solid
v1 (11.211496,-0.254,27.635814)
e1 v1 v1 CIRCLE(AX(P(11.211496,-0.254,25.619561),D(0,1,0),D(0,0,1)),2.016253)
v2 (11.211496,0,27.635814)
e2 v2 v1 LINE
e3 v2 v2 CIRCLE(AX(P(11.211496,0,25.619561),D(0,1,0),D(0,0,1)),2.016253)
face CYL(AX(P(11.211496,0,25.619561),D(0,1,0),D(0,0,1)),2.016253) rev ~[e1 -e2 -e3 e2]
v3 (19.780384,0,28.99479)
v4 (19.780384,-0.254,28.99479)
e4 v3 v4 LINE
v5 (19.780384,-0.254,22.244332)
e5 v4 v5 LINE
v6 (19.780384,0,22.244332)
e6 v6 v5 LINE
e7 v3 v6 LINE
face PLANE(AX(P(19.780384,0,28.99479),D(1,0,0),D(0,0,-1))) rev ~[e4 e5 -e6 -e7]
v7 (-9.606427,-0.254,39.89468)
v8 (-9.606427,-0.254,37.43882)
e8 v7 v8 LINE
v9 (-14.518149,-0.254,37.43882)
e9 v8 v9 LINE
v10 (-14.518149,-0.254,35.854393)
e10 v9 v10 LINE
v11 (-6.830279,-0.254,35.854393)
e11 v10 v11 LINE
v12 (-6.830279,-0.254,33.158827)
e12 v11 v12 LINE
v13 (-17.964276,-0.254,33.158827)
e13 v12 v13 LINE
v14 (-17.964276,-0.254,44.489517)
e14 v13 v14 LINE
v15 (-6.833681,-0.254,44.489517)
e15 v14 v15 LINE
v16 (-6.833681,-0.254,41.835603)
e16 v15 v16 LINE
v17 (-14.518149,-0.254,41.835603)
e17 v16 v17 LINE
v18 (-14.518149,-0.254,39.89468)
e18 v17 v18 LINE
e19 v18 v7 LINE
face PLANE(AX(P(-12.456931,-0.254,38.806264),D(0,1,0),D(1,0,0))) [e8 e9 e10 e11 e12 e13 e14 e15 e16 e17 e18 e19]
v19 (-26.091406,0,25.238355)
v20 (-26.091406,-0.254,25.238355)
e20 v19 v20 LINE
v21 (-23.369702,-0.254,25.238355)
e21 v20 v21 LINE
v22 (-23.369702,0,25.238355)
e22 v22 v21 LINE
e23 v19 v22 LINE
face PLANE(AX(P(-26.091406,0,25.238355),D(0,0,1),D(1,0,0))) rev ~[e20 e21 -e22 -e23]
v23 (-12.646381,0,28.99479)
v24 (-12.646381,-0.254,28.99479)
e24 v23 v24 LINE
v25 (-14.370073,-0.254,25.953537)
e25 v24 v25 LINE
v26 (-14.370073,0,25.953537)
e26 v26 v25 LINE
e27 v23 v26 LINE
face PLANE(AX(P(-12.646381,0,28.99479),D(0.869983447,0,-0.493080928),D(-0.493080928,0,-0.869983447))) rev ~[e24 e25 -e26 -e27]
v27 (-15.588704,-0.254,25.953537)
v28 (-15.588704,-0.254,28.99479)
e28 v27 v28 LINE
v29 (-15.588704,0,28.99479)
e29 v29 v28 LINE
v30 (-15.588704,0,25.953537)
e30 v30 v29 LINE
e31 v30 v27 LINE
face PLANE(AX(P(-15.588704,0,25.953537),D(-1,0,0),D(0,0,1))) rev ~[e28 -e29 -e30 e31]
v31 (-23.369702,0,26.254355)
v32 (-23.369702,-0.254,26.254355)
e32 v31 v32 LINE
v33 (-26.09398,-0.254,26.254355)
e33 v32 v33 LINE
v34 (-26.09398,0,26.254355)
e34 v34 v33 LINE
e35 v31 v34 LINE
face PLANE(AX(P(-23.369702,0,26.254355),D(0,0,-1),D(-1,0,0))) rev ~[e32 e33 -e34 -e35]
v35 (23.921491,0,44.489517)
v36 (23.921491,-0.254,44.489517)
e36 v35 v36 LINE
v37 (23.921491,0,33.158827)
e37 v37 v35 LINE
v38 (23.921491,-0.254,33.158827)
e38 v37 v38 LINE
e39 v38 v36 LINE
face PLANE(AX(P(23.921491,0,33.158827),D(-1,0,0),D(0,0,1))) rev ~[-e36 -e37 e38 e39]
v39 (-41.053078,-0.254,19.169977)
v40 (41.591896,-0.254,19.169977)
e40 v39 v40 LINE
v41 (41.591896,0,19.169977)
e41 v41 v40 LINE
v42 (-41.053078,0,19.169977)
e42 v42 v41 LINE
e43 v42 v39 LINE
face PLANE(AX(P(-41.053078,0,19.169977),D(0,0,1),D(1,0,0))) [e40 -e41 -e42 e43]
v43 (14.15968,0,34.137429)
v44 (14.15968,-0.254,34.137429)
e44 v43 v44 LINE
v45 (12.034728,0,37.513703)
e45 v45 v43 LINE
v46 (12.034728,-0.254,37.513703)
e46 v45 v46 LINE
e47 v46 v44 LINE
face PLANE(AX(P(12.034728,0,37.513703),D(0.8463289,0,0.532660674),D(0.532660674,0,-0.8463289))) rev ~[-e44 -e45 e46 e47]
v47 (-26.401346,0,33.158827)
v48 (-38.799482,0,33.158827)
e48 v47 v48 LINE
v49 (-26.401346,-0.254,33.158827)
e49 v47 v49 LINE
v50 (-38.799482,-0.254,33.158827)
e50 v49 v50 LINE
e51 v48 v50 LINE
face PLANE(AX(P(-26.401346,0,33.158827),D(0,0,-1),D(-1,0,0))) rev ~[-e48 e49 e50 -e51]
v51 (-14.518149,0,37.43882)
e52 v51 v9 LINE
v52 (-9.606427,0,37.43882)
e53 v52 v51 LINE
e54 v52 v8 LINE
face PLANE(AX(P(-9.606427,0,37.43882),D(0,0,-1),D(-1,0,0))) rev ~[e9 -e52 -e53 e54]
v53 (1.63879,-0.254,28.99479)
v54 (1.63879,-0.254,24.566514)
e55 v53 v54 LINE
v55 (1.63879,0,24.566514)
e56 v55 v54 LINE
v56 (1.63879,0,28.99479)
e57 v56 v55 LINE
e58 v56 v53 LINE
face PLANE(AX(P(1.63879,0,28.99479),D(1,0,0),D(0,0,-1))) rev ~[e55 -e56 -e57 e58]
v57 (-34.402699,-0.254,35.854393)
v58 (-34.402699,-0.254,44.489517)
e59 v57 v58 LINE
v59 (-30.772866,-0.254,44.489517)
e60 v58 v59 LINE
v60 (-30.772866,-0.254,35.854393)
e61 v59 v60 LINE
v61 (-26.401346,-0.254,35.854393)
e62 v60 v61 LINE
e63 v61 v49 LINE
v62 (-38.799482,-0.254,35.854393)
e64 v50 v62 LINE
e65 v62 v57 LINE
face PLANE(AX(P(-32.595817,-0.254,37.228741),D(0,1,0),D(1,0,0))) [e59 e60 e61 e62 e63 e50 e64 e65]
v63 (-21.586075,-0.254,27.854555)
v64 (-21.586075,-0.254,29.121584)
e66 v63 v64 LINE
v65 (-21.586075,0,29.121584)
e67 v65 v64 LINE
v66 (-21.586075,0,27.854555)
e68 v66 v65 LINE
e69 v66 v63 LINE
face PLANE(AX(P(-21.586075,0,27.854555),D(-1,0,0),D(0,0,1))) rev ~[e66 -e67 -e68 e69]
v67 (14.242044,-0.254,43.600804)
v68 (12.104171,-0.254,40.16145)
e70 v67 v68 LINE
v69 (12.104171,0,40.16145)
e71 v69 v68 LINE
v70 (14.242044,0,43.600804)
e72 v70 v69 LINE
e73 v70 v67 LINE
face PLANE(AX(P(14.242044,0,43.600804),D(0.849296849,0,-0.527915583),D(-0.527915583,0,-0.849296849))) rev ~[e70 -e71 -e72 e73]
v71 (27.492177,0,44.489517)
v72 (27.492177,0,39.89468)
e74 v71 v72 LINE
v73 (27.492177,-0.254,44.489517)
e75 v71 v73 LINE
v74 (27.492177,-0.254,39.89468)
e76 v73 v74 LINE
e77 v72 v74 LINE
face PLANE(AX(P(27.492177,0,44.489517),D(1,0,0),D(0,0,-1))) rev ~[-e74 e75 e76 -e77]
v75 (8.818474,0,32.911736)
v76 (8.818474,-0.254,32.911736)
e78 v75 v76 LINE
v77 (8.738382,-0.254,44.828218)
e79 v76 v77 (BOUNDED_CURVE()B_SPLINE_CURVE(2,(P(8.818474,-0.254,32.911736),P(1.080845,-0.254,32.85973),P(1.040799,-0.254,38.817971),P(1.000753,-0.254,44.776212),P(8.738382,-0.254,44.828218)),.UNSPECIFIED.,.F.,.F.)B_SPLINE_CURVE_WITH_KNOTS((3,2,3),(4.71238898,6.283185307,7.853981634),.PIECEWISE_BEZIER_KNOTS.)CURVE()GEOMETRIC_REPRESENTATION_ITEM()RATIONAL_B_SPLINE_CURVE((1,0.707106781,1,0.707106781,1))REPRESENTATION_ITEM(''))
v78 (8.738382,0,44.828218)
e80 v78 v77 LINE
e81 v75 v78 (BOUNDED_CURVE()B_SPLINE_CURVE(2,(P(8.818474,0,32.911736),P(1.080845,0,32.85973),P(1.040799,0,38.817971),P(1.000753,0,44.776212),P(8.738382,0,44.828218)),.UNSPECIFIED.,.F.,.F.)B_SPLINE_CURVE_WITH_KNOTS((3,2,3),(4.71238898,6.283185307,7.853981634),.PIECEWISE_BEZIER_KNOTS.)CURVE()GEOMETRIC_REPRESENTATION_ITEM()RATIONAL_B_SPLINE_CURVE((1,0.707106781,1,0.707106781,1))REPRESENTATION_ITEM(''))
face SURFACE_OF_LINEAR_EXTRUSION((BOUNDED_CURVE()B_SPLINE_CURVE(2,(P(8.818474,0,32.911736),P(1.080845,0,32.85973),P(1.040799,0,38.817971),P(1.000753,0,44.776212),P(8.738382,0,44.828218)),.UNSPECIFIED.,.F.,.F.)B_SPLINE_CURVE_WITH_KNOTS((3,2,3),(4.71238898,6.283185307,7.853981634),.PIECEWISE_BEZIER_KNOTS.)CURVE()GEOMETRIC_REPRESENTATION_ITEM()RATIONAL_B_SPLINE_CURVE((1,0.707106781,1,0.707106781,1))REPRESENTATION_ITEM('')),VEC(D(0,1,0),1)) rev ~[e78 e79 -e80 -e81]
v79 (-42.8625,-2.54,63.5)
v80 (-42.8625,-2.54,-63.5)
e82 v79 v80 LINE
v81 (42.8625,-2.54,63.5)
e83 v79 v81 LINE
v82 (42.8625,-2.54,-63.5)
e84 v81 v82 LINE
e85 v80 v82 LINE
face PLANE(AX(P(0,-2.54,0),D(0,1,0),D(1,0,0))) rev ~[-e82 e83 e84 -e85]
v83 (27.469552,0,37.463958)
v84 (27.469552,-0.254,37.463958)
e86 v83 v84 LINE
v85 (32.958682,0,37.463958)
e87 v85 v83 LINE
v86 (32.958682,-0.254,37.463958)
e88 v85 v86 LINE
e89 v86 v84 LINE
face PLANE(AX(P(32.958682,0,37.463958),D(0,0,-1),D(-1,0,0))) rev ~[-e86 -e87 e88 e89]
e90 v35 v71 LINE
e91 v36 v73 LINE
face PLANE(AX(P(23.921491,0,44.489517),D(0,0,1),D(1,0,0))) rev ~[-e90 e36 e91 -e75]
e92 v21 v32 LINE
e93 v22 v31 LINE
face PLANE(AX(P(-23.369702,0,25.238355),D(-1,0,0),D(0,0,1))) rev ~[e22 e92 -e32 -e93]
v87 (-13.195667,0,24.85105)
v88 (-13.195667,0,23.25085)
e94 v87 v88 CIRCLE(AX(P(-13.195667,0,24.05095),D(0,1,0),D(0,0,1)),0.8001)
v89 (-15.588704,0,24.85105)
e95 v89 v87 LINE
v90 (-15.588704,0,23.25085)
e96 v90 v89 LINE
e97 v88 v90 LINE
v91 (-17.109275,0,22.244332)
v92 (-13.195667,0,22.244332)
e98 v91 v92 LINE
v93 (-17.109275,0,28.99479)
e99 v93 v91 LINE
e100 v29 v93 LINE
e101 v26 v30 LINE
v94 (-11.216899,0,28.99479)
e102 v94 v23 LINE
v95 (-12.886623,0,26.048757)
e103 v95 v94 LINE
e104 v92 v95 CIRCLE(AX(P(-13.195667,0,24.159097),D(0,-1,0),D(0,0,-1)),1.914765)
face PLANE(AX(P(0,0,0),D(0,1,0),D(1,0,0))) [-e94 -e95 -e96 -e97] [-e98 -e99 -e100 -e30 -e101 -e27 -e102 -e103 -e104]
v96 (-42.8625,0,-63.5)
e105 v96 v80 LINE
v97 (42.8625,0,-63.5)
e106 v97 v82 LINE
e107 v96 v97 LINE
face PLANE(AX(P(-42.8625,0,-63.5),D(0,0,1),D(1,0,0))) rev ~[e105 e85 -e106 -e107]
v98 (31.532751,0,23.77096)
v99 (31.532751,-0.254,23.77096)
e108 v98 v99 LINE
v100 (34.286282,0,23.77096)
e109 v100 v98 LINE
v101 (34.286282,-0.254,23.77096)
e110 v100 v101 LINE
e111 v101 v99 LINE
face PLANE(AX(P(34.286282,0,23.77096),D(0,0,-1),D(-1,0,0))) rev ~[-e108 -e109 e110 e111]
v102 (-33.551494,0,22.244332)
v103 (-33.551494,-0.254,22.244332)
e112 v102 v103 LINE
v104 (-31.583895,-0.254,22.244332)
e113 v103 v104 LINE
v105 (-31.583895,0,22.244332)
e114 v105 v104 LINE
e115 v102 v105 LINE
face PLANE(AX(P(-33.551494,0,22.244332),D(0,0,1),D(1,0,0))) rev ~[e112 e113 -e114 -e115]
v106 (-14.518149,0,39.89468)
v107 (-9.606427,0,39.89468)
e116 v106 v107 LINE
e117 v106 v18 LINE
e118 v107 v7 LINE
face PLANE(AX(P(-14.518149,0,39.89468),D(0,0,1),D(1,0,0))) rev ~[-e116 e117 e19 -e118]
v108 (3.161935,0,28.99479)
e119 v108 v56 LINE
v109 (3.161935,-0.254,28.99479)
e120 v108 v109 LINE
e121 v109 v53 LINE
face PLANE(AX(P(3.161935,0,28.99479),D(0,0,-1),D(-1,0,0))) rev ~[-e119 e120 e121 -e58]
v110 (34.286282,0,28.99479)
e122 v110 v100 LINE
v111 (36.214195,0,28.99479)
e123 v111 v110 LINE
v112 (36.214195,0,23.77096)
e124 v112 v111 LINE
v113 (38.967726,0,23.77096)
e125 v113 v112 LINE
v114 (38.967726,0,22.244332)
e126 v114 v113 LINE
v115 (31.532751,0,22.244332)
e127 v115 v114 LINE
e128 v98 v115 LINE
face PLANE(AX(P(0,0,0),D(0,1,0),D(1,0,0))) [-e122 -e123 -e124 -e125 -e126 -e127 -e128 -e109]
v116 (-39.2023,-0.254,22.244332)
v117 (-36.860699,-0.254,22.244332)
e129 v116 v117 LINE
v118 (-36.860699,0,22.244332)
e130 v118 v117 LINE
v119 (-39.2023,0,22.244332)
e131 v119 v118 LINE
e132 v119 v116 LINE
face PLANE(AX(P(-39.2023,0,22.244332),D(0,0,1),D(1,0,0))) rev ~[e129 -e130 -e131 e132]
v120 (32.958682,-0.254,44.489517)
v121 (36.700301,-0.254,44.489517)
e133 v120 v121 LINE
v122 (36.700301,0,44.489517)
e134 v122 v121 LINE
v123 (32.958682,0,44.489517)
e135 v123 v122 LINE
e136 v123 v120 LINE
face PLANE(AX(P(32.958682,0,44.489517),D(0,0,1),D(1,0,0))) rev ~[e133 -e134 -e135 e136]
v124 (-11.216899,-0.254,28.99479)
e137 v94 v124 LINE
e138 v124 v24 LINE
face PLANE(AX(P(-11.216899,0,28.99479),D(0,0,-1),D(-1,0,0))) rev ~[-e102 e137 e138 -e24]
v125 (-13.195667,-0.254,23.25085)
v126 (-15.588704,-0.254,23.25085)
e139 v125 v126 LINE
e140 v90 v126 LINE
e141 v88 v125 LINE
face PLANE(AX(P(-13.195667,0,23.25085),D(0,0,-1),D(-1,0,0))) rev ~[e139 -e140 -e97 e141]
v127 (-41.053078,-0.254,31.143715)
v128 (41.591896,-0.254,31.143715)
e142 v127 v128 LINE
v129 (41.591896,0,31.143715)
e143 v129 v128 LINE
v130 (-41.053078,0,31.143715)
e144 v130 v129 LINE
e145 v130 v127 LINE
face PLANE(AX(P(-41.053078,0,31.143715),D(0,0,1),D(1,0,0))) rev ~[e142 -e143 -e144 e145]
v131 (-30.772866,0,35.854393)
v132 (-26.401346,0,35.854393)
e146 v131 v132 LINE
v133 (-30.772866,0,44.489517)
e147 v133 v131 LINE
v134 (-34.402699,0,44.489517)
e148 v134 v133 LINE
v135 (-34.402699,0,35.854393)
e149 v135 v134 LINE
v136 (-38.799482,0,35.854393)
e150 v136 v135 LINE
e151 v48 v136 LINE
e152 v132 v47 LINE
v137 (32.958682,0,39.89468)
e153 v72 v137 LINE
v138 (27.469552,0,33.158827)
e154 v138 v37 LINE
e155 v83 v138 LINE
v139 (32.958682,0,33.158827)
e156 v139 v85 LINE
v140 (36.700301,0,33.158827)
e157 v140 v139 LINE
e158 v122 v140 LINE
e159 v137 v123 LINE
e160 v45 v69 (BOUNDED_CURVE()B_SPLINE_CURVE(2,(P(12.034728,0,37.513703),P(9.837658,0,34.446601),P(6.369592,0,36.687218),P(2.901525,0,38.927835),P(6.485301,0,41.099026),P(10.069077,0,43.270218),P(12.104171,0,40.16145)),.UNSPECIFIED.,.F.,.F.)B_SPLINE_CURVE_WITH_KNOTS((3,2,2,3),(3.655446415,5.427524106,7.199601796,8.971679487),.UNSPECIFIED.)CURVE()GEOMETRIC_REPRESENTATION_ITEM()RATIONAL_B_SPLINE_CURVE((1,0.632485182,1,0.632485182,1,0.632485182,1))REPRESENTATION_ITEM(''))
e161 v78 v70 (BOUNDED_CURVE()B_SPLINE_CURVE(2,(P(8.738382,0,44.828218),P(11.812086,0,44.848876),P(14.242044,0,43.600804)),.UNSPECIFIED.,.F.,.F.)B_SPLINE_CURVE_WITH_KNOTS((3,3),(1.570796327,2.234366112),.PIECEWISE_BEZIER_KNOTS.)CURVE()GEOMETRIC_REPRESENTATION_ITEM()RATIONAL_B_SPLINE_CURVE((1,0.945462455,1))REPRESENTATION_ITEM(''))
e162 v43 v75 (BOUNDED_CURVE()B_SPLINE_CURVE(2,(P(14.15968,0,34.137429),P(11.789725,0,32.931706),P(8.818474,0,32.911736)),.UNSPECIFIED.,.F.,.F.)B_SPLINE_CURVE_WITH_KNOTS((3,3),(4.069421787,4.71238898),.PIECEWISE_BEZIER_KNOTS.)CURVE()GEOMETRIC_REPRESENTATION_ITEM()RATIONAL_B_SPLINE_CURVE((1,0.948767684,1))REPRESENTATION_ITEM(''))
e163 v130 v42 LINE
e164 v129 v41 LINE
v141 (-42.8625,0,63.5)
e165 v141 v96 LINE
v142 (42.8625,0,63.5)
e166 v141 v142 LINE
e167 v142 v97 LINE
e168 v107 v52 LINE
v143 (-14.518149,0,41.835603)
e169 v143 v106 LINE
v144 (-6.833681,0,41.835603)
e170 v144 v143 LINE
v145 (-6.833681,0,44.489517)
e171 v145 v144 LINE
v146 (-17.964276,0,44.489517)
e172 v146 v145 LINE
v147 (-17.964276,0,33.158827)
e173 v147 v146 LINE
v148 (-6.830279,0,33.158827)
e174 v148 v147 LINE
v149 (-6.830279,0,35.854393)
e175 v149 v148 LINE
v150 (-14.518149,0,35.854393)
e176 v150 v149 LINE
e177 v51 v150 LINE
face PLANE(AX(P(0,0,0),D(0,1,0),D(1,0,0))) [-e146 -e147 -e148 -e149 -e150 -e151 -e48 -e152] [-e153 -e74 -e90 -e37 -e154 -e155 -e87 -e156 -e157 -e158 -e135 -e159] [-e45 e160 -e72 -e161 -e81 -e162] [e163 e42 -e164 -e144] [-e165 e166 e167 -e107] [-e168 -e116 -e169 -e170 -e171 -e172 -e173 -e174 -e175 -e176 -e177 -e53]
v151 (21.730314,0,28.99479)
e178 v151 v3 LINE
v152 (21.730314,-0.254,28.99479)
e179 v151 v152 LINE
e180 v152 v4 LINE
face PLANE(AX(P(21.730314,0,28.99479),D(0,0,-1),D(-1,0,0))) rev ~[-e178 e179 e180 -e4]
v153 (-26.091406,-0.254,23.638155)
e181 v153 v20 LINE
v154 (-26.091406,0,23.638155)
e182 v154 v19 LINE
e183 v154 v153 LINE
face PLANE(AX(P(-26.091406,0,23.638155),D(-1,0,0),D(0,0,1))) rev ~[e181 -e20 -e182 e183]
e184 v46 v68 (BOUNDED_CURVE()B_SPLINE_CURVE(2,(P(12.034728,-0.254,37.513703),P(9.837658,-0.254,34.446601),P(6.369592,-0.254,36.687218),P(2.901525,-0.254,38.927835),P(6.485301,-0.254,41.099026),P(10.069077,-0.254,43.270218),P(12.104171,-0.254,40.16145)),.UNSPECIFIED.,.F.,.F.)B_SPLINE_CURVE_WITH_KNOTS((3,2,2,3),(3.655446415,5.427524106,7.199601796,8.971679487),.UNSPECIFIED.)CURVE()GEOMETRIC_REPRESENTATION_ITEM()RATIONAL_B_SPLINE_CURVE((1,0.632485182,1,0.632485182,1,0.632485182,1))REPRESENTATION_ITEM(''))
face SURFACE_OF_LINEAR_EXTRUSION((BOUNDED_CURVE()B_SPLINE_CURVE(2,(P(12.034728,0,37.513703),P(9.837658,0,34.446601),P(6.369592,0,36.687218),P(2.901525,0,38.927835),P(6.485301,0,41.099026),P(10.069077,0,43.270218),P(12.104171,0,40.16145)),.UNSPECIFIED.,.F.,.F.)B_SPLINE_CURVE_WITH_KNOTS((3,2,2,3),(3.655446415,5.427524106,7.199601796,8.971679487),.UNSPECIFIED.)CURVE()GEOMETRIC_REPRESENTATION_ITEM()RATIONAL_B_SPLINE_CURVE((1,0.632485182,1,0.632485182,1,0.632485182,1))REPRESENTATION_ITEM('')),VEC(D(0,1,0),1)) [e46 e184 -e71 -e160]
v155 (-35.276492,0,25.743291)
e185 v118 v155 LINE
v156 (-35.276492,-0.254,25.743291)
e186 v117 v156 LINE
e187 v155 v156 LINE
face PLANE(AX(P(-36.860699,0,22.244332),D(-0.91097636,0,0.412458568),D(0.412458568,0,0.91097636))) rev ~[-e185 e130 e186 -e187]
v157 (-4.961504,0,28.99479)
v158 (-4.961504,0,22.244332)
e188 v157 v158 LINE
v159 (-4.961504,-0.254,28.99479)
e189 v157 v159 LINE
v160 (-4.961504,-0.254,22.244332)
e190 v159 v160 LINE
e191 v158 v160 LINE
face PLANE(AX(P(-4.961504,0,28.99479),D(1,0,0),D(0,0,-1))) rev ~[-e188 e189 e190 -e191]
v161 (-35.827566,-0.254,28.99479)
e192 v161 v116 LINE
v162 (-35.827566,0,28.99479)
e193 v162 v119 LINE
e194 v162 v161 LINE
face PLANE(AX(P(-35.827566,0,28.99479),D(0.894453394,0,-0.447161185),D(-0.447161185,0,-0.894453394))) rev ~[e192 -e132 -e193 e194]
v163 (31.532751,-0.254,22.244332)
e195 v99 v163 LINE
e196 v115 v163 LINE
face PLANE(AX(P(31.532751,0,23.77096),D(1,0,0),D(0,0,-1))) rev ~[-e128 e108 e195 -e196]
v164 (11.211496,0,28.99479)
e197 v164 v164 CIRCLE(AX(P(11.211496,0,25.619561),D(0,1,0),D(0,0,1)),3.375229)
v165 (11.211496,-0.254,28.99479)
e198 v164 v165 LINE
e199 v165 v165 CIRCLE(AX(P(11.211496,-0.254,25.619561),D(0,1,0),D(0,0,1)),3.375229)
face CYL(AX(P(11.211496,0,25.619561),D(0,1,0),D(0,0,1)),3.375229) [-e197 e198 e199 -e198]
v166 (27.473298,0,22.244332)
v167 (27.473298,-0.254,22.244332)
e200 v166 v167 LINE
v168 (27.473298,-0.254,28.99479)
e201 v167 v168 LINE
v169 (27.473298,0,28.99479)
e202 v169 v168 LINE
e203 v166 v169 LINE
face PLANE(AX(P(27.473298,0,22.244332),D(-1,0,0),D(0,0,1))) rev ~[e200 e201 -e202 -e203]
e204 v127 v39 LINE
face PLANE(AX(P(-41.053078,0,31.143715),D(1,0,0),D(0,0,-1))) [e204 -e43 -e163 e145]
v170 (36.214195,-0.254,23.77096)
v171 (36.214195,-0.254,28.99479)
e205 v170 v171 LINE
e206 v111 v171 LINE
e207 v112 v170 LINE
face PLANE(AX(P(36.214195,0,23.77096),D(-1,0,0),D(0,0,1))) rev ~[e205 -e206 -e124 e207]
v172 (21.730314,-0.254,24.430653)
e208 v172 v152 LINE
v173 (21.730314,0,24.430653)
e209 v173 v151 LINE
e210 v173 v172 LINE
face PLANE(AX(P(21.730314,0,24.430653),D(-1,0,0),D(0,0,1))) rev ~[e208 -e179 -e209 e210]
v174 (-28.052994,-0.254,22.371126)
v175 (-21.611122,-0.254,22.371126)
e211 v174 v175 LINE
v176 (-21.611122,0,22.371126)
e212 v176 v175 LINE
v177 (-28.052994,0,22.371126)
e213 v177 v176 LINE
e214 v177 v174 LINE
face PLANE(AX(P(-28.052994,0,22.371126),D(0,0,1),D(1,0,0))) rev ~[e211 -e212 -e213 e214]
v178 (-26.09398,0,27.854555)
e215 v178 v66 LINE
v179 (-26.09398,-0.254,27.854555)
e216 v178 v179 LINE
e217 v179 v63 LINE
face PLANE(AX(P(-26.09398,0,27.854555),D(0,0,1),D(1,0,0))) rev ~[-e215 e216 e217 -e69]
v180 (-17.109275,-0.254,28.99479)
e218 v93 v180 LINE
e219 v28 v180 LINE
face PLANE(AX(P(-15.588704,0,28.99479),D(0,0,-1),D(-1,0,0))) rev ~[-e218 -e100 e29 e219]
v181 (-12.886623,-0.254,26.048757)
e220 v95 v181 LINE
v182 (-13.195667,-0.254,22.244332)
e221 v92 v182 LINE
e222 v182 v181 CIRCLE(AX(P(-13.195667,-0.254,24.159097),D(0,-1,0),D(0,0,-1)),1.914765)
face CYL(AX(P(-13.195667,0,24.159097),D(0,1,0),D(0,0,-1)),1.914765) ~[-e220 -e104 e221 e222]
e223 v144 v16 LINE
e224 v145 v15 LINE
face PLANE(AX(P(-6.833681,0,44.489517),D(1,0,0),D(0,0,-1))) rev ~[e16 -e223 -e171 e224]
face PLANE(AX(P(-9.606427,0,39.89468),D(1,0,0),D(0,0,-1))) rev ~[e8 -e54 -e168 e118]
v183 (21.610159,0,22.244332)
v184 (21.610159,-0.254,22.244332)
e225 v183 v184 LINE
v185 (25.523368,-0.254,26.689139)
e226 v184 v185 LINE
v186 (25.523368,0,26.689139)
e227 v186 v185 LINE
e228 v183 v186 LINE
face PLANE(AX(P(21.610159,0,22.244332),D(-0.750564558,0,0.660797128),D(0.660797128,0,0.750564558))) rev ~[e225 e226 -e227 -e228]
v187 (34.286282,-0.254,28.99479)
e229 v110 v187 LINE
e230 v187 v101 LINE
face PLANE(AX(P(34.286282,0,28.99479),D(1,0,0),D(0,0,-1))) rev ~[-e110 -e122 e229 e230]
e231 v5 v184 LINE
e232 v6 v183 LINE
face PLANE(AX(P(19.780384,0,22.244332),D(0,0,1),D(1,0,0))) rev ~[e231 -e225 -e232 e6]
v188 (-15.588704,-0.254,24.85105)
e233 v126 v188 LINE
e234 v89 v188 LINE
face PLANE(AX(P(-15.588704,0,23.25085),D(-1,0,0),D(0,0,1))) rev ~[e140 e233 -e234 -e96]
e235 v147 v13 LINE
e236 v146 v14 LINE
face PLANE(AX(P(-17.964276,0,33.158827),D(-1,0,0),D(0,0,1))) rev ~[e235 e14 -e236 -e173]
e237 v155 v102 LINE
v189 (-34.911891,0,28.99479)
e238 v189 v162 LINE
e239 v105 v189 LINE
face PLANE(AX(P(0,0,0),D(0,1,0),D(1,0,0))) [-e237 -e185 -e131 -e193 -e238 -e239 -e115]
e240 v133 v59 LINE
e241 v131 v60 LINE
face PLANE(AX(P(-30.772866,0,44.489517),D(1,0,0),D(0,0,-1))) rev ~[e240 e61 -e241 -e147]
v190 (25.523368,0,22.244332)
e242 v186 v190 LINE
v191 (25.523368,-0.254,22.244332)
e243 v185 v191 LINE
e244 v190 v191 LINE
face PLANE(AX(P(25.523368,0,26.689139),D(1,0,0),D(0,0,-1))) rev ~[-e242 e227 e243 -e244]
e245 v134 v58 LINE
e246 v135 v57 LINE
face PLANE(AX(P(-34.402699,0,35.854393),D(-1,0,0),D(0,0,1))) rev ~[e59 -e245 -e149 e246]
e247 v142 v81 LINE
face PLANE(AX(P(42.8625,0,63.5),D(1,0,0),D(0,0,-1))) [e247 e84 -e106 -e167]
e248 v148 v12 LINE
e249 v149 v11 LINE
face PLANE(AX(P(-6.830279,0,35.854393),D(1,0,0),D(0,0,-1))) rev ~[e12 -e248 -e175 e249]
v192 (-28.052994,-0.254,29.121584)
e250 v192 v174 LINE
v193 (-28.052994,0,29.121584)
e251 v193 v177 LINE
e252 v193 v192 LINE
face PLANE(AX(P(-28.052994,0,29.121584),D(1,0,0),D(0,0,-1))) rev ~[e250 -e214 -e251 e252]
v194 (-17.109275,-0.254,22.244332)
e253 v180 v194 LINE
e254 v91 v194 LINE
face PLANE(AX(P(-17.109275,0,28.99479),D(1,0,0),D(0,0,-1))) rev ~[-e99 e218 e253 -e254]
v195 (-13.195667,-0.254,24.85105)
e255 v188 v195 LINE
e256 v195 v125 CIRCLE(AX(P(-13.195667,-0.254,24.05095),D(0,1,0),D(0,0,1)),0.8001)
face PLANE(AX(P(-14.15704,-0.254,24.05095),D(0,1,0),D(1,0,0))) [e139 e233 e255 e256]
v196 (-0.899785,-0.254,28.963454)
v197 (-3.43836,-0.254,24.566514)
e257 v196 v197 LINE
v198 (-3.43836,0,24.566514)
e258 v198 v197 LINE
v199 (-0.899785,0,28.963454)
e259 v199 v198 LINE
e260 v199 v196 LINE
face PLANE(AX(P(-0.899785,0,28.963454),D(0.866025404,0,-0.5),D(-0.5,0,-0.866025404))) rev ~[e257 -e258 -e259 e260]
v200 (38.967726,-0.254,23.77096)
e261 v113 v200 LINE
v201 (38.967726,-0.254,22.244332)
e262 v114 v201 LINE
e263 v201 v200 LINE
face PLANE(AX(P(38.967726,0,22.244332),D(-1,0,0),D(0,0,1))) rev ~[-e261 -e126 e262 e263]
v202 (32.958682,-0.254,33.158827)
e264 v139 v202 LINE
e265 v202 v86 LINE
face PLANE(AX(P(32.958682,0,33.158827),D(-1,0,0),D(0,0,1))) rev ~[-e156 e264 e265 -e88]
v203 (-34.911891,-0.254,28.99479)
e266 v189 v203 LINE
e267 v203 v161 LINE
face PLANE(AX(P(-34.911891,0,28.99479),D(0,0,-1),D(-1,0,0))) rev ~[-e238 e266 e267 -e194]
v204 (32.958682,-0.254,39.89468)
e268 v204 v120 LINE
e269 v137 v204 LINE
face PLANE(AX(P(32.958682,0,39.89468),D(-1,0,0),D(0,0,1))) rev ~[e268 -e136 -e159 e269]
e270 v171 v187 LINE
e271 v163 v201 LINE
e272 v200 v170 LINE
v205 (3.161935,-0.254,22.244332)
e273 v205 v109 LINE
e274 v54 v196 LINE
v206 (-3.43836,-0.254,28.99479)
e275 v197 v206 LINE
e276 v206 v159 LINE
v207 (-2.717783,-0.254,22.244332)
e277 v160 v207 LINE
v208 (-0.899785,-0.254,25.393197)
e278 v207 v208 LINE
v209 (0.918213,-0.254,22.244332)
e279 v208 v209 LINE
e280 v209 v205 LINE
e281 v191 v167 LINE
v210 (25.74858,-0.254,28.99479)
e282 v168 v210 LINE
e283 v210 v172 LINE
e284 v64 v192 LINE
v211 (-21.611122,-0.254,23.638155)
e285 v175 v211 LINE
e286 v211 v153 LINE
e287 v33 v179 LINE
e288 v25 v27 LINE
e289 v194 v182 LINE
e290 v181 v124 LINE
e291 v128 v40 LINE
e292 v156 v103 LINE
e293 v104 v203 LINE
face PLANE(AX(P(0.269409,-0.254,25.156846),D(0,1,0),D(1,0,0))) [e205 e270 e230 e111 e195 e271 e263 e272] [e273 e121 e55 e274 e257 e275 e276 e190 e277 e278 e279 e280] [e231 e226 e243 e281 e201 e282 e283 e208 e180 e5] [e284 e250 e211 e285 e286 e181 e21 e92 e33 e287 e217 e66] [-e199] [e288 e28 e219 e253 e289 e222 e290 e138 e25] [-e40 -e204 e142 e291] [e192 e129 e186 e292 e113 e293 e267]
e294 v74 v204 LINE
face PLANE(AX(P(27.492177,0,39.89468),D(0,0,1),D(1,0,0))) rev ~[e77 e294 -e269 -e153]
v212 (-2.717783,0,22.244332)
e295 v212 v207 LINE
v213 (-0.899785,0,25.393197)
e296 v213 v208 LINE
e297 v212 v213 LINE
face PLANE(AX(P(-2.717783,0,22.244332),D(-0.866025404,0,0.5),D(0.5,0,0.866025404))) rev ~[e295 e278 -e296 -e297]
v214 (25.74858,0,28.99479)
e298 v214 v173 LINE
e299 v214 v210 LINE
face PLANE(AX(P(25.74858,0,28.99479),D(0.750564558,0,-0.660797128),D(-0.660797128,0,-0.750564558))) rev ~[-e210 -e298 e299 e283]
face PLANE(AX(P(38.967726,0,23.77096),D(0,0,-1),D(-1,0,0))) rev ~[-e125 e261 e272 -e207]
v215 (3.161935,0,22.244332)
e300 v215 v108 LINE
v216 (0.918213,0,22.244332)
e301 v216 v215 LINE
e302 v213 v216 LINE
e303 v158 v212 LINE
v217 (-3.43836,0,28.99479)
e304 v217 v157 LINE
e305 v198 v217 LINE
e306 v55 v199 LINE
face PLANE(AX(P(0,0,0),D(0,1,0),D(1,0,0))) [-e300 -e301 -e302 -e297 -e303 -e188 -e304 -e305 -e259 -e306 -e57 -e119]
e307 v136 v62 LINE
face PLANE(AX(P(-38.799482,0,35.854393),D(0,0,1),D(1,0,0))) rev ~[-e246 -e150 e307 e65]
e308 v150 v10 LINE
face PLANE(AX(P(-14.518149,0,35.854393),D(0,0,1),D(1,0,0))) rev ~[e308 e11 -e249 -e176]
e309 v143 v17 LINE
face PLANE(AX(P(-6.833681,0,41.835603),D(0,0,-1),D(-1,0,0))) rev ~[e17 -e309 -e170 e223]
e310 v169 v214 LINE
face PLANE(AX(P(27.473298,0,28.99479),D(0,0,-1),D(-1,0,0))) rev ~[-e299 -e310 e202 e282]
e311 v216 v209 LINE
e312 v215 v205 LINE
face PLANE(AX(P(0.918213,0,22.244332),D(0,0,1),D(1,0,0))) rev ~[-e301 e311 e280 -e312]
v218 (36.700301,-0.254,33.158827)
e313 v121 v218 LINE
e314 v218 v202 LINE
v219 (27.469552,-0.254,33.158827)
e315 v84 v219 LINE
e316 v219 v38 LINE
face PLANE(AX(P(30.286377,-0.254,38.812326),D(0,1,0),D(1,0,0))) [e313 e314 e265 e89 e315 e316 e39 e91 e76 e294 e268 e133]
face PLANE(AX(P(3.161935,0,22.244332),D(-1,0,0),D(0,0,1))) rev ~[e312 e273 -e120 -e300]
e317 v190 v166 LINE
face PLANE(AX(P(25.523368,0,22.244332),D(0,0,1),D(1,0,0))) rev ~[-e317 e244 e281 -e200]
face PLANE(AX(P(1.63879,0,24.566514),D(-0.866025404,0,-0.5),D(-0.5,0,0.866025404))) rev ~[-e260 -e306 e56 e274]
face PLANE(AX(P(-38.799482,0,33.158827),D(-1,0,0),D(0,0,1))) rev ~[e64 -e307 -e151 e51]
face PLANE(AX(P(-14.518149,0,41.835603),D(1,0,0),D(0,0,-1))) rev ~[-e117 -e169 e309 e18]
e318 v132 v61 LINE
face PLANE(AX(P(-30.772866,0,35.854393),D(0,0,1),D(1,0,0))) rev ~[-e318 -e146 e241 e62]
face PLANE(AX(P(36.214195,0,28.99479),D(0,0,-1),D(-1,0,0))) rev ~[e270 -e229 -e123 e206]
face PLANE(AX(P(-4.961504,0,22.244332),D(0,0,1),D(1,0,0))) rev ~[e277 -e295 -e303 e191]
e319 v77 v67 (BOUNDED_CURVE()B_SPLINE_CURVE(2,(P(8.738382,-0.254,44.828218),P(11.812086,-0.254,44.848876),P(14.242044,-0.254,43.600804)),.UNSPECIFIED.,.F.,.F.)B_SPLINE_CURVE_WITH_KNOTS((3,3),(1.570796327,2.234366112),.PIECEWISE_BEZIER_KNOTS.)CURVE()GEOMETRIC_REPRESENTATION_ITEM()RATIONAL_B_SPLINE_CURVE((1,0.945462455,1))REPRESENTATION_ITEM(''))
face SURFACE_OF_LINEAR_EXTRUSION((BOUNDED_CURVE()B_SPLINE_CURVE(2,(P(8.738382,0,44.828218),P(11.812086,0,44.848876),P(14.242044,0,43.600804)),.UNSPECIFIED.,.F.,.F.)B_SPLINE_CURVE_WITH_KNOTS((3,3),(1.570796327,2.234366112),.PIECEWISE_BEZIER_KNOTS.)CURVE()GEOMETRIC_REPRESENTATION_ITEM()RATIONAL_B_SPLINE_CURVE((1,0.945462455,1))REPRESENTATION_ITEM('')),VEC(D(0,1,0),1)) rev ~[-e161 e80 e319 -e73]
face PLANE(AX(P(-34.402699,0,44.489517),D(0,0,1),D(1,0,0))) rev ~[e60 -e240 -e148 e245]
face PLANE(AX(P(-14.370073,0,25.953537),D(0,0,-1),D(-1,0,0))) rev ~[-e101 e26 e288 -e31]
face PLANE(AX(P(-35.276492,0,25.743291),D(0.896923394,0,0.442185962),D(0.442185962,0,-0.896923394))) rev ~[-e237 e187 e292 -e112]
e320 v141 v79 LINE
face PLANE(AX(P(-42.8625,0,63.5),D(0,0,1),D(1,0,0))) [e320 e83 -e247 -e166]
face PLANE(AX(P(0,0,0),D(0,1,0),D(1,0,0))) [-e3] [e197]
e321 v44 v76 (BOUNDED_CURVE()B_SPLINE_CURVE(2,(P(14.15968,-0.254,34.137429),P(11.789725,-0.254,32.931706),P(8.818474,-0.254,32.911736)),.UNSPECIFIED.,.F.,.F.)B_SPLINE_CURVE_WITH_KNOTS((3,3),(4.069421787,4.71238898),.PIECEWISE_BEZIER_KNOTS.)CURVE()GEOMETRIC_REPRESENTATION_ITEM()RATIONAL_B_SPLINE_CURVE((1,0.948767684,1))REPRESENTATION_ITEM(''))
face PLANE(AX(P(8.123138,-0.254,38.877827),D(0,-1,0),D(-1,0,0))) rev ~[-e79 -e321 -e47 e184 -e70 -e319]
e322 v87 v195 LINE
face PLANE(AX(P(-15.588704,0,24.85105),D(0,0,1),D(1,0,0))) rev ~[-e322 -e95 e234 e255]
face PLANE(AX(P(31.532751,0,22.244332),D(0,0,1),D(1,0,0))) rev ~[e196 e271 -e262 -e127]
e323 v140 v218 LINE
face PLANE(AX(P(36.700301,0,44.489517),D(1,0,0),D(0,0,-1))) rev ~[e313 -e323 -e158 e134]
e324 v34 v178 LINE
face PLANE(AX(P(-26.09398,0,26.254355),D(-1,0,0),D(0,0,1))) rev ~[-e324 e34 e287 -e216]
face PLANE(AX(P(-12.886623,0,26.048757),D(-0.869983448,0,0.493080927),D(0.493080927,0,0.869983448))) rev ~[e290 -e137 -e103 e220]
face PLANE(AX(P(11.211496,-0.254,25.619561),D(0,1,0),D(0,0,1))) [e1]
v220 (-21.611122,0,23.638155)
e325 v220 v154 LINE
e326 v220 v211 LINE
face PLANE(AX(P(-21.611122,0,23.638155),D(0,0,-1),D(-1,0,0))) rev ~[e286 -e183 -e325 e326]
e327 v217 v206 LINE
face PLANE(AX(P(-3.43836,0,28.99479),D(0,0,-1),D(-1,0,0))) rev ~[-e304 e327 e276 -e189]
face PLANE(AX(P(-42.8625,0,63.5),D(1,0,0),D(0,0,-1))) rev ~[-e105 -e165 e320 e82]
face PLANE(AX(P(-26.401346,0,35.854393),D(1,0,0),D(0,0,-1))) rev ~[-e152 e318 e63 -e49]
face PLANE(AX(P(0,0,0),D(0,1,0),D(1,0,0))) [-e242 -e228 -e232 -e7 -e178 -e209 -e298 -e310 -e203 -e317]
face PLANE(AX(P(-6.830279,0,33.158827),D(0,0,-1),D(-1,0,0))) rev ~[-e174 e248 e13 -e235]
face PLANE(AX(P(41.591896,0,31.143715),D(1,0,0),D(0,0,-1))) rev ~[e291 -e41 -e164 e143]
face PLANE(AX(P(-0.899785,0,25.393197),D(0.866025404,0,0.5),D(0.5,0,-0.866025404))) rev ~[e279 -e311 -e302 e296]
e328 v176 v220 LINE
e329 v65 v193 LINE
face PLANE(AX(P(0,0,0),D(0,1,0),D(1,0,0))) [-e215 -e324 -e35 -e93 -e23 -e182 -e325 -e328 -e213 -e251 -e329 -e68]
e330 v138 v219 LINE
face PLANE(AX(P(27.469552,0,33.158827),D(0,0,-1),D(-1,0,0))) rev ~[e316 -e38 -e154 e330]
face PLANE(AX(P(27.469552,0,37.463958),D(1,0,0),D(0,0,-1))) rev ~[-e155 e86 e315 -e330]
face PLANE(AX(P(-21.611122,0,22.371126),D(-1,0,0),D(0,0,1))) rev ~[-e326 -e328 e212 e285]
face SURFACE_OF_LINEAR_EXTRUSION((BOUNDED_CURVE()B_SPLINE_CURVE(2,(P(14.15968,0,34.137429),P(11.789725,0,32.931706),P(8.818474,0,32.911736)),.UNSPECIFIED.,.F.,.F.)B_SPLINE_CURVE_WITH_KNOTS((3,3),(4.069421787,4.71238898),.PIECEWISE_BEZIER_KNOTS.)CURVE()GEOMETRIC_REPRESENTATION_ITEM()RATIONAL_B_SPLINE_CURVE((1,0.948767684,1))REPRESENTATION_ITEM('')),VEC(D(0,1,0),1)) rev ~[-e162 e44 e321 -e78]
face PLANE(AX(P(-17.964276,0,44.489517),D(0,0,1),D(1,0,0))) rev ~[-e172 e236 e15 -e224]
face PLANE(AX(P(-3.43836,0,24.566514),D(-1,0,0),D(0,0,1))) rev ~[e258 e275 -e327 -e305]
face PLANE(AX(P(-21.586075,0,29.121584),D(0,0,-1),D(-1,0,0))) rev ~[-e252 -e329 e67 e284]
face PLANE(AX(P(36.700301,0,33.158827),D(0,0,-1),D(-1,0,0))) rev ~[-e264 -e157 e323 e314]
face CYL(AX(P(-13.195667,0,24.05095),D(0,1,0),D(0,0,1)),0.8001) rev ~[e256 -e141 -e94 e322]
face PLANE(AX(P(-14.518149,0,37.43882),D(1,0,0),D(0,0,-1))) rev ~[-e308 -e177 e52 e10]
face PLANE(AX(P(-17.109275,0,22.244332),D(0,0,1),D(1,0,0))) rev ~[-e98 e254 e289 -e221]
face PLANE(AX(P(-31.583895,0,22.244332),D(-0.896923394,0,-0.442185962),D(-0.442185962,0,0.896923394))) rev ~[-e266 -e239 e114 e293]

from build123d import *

# Parameters (mm, degrees)
SKETCH2_W           = 85.725
SKETCH2_H           = 127
BOSS_EXTRUDE2_DEPTH = 2.54
SKETCH25_W          = 82.644974211
SKETCH25_H          = 11.973738266
SKETCH25_R          = 3.375228747
SKETCH25_R_2        = 2.016253288
CUT_EXTRUDE3_DEPTH  = 0.254


with BuildPart() as part:
    # Sketch2 → Boss-Extrude2 (new body)
    with BuildSketch(Plane(origin=(0, 0, 0), x_dir=(1, 0, 0), z_dir=(0, 1, 0))):
        Rectangle(SKETCH2_W, SKETCH2_H)
    extrude(amount=-BOSS_EXTRUDE2_DEPTH)

    # Sketch25 → Cut-Extrude3 (cut)
    # profile 1 of 7: a face of its own
    with BuildSketch(Plane(origin=(0, 0, 0), x_dir=(1, 0, 0), z_dir=(0, 1, 0))):
        Polygon((-26.401346176, -35.854393253), (-26.401346176, -33.15882687), (-38.799482128, -33.15882687), (-38.799482128, -35.854393253), (-34.402699091, -35.854393253), (-34.402699091, -44.489516695), (-30.772866408, -44.489516695), (-30.772866408, -35.854393253), align=None)
    # profile 2 of 7: a face of its own
    with BuildSketch(Plane(origin=(0, 0, 0), x_dir=(1, 0, 0), z_dir=(0, 1, 0))):
        with Locations((0.269409109, -25.156846289)):
            Rectangle(SKETCH25_W, SKETCH25_H)
        Polygon((-36.860699174, -22.244332024), (-35.276491705, -25.743290865), (-33.551494351, -22.244332024), (-31.583895256, -22.244332024), (-34.91189134, -28.994789518), (-35.827566034, -28.994789518), (-39.202300363, -22.244332024), align=None, mode=Mode.SUBTRACT)
        Polygon((-21.586075079, -29.121583639), (-28.052993946, -29.121583639), (-28.052993946, -22.371126145), (-21.61112205, -22.371126145), (-21.61112205, -23.638154892), (-26.091406212, -23.638154892), (-26.091406212, -25.238354892), (-23.369701588, -25.238354892), (-23.369701588, -26.254354892), (-26.093979632, -26.254354892), (-26.093979632, -27.854554892), (-21.586075079, -27.854554892), align=None, mode=Mode.SUBTRACT)
        with BuildLine():
            Line((-12.886623389, -26.048756675), (-11.21689897, -28.994789518))
            Line((-11.21689897, -28.994789518), (-12.646380862, -28.994789518))
            Line((-12.646380862, -28.994789518), (-14.370072898, -25.953537147))
            Line((-14.370072898, -25.953537147), (-15.588703764, -25.953537147))
            Line((-15.588703764, -25.953537147), (-15.588703764, -28.994789518))
            Line((-15.588703764, -28.994789518), (-17.109275161, -28.994789518))
            Line((-17.109275161, -28.994789518), (-17.109275161, -22.244332024))
            Line((-17.109275161, -22.244332024), (-13.19566722, -22.244332024))
            ThreePointArc((-13.19566722, -22.244332024), (-11.287189095, -24.004065684), (-12.886623389, -26.048756675))
        make_face(mode=Mode.SUBTRACT)
        Polygon((-4.961504317, -22.244332024), (-2.717782968, -22.244332024), (-0.899784822, -25.393197181), (0.918213323, -22.244332024), (3.161934673, -22.244332024), (3.161934673, -28.994789518), (1.638789862, -28.994789518), (1.638789862, -24.566513755), (-0.899784822, -28.963454088), (-3.438359507, -24.566513755), (-3.438359507, -28.994789518), (-4.961504317, -28.994789518), align=None, mode=Mode.SUBTRACT)
        with Locations(Location((11.211495581, -25.619560771, 0), (0, 0, 270))):
            Circle(SKETCH25_R, mode=Mode.SUBTRACT)
        Polygon((19.780384204, -22.244332024), (21.610158793, -22.244332024), (25.523367769, -26.689139429), (25.523367769, -22.244332024), (27.473297536, -22.244332024), (27.473297536, -28.994789518), (25.748580132, -28.994789518), (21.73031397, -24.430653204), (21.73031397, -28.994789518), (19.780384204, -28.994789518), align=None, mode=Mode.SUBTRACT)
        Polygon((34.286281548, -23.770960204), (31.532751091, -23.770960204), (31.532751091, -22.244332024), (38.967725504, -22.244332024), (38.967725504, -23.770960204), (36.214195047, -23.770960204), (36.214195047, -28.994789518), (34.286281548, -28.994789518), align=None, mode=Mode.SUBTRACT)
    # profile 3 of 7: a face of its own
    with BuildSketch(Plane(origin=(0, 0, 0), x_dir=(1, 0, 0), z_dir=(0, 1, 0))):
        Polygon((-14.518148777, -37.438819572), (-14.518148777, -35.854393253), (-6.83027872, -35.854393253), (-6.83027872, -33.15882687), (-17.964276023, -33.15882687), (-17.964276023, -44.489516695), (-6.833681126, -44.489516695), (-6.833681126, -41.83560261), (-14.518148777, -41.83560261), (-14.518148777, -39.894680368), (-9.606427186, -39.894680368), (-9.606427186, -37.438819572), align=None)
    # profile 4 of 7: a face of its own
    with BuildSketch(Plane(origin=(0, 0, 0), x_dir=(1, 0, 0), z_dir=(0, 1, 0))):
        with BuildLine():
            ThreePointArc((-13.19566722, -24.851050278), (-12.39556722, -24.050950278), (-13.19566722, -23.250850278))
            Line((-13.19566722, -23.250850278), (-15.588703764, -23.250850278))
            Line((-15.588703764, -23.250850278), (-15.588703764, -24.851050278))
            Line((-15.588703764, -24.851050278), (-13.19566722, -24.851050278))
        make_face()
    # profile 5 of 7: a face of its own
    with BuildSketch(Plane(origin=(0, 0, 0), x_dir=(1, 0, 0), z_dir=(0, 1, 0))):
        Polygon((23.921491499, -33.15882687), (23.921491499, -44.489516695), (27.49217728, -44.489516695), (27.49217728, -39.894680368), (32.958681558, -39.894680368), (32.958681558, -44.489516695), (36.700300901, -44.489516695), (36.700300901, -33.15882687), (32.958681558, -33.15882687), (32.958681558, -37.463958465), (27.469552399, -37.463958465), (27.469552399, -33.15882687), align=None)
    # profile 6 of 7: a face of its own
    with BuildSketch(Plane(origin=(0, 0, 0), x_dir=(1, 0, 0), z_dir=(0, 1, 0))):
        with BuildLine():
            add(Edge.make_bspline(
                [(12.034728003, -37.513702885), (9.837658355, -34.446600836), (6.369591885, -36.687217957), (2.901525415, -38.927835078), (6.485301367, -41.099026419), (10.069077319, -43.270217761), (12.104171052, -40.161449829)],
                knots=[3.655446415, 3.655446415, 3.655446415, 5.427524106, 5.427524106, 7.199601796, 7.199601796, 8.971679487, 8.971679487, 8.971679487], degree=2, weights=[1, 0.632485182, 1, 0.632485182, 1, 0.632485182, 1]))
            Line((12.034728003, -37.513702885), (14.159680346, -34.137428518))
            add(Edge.make_bspline(
                [(14.159680346, -34.137428518), (11.789724765, -32.931705874), (8.818474178, -32.911735742)],
                knots=[4.069421787, 4.069421787, 4.069421787, 4.71238898, 4.71238898, 4.71238898], degree=2, weights=[1, 0.948767684, 1]))
            add(Edge.make_bspline(
                [(8.818474178, -32.911735742), (1.080845291, -32.85973021), (1.04079924, -38.817971113), (1.000753188, -44.776212016), (8.738382074, -44.828217548)],
                knots=[4.71238898, 4.71238898, 4.71238898, 6.283185307, 6.283185307, 7.853981634, 7.853981634, 7.853981634], degree=2, weights=[1, 0.707106781, 1, 0.707106781, 1]))
            add(Edge.make_bspline(
                [(8.738382074, -44.828217548), (11.812086243, -44.848876282), (14.24204363, -43.600803586)],
                knots=[1.570796327, 1.570796327, 1.570796327, 2.234366112, 2.234366112, 2.234366112], degree=2, weights=[1, 0.945462455, 1]))
            Line((14.24204363, -43.600803586), (12.104171052, -40.161449829))
        make_face()
    # profile 7 of 7: a face of its own
    with BuildSketch(Plane(origin=(0, 0, 0), x_dir=(1, 0, 0), z_dir=(0, 1, 0))):
        with Locations(Location((11.211495581, -25.619560771, 0), (0, 0, 270))):
            Circle(SKETCH25_R_2)
    extrude(amount=-CUT_EXTRUDE3_DEPTH, mode=Mode.SUBTRACT)


solid = part.part
